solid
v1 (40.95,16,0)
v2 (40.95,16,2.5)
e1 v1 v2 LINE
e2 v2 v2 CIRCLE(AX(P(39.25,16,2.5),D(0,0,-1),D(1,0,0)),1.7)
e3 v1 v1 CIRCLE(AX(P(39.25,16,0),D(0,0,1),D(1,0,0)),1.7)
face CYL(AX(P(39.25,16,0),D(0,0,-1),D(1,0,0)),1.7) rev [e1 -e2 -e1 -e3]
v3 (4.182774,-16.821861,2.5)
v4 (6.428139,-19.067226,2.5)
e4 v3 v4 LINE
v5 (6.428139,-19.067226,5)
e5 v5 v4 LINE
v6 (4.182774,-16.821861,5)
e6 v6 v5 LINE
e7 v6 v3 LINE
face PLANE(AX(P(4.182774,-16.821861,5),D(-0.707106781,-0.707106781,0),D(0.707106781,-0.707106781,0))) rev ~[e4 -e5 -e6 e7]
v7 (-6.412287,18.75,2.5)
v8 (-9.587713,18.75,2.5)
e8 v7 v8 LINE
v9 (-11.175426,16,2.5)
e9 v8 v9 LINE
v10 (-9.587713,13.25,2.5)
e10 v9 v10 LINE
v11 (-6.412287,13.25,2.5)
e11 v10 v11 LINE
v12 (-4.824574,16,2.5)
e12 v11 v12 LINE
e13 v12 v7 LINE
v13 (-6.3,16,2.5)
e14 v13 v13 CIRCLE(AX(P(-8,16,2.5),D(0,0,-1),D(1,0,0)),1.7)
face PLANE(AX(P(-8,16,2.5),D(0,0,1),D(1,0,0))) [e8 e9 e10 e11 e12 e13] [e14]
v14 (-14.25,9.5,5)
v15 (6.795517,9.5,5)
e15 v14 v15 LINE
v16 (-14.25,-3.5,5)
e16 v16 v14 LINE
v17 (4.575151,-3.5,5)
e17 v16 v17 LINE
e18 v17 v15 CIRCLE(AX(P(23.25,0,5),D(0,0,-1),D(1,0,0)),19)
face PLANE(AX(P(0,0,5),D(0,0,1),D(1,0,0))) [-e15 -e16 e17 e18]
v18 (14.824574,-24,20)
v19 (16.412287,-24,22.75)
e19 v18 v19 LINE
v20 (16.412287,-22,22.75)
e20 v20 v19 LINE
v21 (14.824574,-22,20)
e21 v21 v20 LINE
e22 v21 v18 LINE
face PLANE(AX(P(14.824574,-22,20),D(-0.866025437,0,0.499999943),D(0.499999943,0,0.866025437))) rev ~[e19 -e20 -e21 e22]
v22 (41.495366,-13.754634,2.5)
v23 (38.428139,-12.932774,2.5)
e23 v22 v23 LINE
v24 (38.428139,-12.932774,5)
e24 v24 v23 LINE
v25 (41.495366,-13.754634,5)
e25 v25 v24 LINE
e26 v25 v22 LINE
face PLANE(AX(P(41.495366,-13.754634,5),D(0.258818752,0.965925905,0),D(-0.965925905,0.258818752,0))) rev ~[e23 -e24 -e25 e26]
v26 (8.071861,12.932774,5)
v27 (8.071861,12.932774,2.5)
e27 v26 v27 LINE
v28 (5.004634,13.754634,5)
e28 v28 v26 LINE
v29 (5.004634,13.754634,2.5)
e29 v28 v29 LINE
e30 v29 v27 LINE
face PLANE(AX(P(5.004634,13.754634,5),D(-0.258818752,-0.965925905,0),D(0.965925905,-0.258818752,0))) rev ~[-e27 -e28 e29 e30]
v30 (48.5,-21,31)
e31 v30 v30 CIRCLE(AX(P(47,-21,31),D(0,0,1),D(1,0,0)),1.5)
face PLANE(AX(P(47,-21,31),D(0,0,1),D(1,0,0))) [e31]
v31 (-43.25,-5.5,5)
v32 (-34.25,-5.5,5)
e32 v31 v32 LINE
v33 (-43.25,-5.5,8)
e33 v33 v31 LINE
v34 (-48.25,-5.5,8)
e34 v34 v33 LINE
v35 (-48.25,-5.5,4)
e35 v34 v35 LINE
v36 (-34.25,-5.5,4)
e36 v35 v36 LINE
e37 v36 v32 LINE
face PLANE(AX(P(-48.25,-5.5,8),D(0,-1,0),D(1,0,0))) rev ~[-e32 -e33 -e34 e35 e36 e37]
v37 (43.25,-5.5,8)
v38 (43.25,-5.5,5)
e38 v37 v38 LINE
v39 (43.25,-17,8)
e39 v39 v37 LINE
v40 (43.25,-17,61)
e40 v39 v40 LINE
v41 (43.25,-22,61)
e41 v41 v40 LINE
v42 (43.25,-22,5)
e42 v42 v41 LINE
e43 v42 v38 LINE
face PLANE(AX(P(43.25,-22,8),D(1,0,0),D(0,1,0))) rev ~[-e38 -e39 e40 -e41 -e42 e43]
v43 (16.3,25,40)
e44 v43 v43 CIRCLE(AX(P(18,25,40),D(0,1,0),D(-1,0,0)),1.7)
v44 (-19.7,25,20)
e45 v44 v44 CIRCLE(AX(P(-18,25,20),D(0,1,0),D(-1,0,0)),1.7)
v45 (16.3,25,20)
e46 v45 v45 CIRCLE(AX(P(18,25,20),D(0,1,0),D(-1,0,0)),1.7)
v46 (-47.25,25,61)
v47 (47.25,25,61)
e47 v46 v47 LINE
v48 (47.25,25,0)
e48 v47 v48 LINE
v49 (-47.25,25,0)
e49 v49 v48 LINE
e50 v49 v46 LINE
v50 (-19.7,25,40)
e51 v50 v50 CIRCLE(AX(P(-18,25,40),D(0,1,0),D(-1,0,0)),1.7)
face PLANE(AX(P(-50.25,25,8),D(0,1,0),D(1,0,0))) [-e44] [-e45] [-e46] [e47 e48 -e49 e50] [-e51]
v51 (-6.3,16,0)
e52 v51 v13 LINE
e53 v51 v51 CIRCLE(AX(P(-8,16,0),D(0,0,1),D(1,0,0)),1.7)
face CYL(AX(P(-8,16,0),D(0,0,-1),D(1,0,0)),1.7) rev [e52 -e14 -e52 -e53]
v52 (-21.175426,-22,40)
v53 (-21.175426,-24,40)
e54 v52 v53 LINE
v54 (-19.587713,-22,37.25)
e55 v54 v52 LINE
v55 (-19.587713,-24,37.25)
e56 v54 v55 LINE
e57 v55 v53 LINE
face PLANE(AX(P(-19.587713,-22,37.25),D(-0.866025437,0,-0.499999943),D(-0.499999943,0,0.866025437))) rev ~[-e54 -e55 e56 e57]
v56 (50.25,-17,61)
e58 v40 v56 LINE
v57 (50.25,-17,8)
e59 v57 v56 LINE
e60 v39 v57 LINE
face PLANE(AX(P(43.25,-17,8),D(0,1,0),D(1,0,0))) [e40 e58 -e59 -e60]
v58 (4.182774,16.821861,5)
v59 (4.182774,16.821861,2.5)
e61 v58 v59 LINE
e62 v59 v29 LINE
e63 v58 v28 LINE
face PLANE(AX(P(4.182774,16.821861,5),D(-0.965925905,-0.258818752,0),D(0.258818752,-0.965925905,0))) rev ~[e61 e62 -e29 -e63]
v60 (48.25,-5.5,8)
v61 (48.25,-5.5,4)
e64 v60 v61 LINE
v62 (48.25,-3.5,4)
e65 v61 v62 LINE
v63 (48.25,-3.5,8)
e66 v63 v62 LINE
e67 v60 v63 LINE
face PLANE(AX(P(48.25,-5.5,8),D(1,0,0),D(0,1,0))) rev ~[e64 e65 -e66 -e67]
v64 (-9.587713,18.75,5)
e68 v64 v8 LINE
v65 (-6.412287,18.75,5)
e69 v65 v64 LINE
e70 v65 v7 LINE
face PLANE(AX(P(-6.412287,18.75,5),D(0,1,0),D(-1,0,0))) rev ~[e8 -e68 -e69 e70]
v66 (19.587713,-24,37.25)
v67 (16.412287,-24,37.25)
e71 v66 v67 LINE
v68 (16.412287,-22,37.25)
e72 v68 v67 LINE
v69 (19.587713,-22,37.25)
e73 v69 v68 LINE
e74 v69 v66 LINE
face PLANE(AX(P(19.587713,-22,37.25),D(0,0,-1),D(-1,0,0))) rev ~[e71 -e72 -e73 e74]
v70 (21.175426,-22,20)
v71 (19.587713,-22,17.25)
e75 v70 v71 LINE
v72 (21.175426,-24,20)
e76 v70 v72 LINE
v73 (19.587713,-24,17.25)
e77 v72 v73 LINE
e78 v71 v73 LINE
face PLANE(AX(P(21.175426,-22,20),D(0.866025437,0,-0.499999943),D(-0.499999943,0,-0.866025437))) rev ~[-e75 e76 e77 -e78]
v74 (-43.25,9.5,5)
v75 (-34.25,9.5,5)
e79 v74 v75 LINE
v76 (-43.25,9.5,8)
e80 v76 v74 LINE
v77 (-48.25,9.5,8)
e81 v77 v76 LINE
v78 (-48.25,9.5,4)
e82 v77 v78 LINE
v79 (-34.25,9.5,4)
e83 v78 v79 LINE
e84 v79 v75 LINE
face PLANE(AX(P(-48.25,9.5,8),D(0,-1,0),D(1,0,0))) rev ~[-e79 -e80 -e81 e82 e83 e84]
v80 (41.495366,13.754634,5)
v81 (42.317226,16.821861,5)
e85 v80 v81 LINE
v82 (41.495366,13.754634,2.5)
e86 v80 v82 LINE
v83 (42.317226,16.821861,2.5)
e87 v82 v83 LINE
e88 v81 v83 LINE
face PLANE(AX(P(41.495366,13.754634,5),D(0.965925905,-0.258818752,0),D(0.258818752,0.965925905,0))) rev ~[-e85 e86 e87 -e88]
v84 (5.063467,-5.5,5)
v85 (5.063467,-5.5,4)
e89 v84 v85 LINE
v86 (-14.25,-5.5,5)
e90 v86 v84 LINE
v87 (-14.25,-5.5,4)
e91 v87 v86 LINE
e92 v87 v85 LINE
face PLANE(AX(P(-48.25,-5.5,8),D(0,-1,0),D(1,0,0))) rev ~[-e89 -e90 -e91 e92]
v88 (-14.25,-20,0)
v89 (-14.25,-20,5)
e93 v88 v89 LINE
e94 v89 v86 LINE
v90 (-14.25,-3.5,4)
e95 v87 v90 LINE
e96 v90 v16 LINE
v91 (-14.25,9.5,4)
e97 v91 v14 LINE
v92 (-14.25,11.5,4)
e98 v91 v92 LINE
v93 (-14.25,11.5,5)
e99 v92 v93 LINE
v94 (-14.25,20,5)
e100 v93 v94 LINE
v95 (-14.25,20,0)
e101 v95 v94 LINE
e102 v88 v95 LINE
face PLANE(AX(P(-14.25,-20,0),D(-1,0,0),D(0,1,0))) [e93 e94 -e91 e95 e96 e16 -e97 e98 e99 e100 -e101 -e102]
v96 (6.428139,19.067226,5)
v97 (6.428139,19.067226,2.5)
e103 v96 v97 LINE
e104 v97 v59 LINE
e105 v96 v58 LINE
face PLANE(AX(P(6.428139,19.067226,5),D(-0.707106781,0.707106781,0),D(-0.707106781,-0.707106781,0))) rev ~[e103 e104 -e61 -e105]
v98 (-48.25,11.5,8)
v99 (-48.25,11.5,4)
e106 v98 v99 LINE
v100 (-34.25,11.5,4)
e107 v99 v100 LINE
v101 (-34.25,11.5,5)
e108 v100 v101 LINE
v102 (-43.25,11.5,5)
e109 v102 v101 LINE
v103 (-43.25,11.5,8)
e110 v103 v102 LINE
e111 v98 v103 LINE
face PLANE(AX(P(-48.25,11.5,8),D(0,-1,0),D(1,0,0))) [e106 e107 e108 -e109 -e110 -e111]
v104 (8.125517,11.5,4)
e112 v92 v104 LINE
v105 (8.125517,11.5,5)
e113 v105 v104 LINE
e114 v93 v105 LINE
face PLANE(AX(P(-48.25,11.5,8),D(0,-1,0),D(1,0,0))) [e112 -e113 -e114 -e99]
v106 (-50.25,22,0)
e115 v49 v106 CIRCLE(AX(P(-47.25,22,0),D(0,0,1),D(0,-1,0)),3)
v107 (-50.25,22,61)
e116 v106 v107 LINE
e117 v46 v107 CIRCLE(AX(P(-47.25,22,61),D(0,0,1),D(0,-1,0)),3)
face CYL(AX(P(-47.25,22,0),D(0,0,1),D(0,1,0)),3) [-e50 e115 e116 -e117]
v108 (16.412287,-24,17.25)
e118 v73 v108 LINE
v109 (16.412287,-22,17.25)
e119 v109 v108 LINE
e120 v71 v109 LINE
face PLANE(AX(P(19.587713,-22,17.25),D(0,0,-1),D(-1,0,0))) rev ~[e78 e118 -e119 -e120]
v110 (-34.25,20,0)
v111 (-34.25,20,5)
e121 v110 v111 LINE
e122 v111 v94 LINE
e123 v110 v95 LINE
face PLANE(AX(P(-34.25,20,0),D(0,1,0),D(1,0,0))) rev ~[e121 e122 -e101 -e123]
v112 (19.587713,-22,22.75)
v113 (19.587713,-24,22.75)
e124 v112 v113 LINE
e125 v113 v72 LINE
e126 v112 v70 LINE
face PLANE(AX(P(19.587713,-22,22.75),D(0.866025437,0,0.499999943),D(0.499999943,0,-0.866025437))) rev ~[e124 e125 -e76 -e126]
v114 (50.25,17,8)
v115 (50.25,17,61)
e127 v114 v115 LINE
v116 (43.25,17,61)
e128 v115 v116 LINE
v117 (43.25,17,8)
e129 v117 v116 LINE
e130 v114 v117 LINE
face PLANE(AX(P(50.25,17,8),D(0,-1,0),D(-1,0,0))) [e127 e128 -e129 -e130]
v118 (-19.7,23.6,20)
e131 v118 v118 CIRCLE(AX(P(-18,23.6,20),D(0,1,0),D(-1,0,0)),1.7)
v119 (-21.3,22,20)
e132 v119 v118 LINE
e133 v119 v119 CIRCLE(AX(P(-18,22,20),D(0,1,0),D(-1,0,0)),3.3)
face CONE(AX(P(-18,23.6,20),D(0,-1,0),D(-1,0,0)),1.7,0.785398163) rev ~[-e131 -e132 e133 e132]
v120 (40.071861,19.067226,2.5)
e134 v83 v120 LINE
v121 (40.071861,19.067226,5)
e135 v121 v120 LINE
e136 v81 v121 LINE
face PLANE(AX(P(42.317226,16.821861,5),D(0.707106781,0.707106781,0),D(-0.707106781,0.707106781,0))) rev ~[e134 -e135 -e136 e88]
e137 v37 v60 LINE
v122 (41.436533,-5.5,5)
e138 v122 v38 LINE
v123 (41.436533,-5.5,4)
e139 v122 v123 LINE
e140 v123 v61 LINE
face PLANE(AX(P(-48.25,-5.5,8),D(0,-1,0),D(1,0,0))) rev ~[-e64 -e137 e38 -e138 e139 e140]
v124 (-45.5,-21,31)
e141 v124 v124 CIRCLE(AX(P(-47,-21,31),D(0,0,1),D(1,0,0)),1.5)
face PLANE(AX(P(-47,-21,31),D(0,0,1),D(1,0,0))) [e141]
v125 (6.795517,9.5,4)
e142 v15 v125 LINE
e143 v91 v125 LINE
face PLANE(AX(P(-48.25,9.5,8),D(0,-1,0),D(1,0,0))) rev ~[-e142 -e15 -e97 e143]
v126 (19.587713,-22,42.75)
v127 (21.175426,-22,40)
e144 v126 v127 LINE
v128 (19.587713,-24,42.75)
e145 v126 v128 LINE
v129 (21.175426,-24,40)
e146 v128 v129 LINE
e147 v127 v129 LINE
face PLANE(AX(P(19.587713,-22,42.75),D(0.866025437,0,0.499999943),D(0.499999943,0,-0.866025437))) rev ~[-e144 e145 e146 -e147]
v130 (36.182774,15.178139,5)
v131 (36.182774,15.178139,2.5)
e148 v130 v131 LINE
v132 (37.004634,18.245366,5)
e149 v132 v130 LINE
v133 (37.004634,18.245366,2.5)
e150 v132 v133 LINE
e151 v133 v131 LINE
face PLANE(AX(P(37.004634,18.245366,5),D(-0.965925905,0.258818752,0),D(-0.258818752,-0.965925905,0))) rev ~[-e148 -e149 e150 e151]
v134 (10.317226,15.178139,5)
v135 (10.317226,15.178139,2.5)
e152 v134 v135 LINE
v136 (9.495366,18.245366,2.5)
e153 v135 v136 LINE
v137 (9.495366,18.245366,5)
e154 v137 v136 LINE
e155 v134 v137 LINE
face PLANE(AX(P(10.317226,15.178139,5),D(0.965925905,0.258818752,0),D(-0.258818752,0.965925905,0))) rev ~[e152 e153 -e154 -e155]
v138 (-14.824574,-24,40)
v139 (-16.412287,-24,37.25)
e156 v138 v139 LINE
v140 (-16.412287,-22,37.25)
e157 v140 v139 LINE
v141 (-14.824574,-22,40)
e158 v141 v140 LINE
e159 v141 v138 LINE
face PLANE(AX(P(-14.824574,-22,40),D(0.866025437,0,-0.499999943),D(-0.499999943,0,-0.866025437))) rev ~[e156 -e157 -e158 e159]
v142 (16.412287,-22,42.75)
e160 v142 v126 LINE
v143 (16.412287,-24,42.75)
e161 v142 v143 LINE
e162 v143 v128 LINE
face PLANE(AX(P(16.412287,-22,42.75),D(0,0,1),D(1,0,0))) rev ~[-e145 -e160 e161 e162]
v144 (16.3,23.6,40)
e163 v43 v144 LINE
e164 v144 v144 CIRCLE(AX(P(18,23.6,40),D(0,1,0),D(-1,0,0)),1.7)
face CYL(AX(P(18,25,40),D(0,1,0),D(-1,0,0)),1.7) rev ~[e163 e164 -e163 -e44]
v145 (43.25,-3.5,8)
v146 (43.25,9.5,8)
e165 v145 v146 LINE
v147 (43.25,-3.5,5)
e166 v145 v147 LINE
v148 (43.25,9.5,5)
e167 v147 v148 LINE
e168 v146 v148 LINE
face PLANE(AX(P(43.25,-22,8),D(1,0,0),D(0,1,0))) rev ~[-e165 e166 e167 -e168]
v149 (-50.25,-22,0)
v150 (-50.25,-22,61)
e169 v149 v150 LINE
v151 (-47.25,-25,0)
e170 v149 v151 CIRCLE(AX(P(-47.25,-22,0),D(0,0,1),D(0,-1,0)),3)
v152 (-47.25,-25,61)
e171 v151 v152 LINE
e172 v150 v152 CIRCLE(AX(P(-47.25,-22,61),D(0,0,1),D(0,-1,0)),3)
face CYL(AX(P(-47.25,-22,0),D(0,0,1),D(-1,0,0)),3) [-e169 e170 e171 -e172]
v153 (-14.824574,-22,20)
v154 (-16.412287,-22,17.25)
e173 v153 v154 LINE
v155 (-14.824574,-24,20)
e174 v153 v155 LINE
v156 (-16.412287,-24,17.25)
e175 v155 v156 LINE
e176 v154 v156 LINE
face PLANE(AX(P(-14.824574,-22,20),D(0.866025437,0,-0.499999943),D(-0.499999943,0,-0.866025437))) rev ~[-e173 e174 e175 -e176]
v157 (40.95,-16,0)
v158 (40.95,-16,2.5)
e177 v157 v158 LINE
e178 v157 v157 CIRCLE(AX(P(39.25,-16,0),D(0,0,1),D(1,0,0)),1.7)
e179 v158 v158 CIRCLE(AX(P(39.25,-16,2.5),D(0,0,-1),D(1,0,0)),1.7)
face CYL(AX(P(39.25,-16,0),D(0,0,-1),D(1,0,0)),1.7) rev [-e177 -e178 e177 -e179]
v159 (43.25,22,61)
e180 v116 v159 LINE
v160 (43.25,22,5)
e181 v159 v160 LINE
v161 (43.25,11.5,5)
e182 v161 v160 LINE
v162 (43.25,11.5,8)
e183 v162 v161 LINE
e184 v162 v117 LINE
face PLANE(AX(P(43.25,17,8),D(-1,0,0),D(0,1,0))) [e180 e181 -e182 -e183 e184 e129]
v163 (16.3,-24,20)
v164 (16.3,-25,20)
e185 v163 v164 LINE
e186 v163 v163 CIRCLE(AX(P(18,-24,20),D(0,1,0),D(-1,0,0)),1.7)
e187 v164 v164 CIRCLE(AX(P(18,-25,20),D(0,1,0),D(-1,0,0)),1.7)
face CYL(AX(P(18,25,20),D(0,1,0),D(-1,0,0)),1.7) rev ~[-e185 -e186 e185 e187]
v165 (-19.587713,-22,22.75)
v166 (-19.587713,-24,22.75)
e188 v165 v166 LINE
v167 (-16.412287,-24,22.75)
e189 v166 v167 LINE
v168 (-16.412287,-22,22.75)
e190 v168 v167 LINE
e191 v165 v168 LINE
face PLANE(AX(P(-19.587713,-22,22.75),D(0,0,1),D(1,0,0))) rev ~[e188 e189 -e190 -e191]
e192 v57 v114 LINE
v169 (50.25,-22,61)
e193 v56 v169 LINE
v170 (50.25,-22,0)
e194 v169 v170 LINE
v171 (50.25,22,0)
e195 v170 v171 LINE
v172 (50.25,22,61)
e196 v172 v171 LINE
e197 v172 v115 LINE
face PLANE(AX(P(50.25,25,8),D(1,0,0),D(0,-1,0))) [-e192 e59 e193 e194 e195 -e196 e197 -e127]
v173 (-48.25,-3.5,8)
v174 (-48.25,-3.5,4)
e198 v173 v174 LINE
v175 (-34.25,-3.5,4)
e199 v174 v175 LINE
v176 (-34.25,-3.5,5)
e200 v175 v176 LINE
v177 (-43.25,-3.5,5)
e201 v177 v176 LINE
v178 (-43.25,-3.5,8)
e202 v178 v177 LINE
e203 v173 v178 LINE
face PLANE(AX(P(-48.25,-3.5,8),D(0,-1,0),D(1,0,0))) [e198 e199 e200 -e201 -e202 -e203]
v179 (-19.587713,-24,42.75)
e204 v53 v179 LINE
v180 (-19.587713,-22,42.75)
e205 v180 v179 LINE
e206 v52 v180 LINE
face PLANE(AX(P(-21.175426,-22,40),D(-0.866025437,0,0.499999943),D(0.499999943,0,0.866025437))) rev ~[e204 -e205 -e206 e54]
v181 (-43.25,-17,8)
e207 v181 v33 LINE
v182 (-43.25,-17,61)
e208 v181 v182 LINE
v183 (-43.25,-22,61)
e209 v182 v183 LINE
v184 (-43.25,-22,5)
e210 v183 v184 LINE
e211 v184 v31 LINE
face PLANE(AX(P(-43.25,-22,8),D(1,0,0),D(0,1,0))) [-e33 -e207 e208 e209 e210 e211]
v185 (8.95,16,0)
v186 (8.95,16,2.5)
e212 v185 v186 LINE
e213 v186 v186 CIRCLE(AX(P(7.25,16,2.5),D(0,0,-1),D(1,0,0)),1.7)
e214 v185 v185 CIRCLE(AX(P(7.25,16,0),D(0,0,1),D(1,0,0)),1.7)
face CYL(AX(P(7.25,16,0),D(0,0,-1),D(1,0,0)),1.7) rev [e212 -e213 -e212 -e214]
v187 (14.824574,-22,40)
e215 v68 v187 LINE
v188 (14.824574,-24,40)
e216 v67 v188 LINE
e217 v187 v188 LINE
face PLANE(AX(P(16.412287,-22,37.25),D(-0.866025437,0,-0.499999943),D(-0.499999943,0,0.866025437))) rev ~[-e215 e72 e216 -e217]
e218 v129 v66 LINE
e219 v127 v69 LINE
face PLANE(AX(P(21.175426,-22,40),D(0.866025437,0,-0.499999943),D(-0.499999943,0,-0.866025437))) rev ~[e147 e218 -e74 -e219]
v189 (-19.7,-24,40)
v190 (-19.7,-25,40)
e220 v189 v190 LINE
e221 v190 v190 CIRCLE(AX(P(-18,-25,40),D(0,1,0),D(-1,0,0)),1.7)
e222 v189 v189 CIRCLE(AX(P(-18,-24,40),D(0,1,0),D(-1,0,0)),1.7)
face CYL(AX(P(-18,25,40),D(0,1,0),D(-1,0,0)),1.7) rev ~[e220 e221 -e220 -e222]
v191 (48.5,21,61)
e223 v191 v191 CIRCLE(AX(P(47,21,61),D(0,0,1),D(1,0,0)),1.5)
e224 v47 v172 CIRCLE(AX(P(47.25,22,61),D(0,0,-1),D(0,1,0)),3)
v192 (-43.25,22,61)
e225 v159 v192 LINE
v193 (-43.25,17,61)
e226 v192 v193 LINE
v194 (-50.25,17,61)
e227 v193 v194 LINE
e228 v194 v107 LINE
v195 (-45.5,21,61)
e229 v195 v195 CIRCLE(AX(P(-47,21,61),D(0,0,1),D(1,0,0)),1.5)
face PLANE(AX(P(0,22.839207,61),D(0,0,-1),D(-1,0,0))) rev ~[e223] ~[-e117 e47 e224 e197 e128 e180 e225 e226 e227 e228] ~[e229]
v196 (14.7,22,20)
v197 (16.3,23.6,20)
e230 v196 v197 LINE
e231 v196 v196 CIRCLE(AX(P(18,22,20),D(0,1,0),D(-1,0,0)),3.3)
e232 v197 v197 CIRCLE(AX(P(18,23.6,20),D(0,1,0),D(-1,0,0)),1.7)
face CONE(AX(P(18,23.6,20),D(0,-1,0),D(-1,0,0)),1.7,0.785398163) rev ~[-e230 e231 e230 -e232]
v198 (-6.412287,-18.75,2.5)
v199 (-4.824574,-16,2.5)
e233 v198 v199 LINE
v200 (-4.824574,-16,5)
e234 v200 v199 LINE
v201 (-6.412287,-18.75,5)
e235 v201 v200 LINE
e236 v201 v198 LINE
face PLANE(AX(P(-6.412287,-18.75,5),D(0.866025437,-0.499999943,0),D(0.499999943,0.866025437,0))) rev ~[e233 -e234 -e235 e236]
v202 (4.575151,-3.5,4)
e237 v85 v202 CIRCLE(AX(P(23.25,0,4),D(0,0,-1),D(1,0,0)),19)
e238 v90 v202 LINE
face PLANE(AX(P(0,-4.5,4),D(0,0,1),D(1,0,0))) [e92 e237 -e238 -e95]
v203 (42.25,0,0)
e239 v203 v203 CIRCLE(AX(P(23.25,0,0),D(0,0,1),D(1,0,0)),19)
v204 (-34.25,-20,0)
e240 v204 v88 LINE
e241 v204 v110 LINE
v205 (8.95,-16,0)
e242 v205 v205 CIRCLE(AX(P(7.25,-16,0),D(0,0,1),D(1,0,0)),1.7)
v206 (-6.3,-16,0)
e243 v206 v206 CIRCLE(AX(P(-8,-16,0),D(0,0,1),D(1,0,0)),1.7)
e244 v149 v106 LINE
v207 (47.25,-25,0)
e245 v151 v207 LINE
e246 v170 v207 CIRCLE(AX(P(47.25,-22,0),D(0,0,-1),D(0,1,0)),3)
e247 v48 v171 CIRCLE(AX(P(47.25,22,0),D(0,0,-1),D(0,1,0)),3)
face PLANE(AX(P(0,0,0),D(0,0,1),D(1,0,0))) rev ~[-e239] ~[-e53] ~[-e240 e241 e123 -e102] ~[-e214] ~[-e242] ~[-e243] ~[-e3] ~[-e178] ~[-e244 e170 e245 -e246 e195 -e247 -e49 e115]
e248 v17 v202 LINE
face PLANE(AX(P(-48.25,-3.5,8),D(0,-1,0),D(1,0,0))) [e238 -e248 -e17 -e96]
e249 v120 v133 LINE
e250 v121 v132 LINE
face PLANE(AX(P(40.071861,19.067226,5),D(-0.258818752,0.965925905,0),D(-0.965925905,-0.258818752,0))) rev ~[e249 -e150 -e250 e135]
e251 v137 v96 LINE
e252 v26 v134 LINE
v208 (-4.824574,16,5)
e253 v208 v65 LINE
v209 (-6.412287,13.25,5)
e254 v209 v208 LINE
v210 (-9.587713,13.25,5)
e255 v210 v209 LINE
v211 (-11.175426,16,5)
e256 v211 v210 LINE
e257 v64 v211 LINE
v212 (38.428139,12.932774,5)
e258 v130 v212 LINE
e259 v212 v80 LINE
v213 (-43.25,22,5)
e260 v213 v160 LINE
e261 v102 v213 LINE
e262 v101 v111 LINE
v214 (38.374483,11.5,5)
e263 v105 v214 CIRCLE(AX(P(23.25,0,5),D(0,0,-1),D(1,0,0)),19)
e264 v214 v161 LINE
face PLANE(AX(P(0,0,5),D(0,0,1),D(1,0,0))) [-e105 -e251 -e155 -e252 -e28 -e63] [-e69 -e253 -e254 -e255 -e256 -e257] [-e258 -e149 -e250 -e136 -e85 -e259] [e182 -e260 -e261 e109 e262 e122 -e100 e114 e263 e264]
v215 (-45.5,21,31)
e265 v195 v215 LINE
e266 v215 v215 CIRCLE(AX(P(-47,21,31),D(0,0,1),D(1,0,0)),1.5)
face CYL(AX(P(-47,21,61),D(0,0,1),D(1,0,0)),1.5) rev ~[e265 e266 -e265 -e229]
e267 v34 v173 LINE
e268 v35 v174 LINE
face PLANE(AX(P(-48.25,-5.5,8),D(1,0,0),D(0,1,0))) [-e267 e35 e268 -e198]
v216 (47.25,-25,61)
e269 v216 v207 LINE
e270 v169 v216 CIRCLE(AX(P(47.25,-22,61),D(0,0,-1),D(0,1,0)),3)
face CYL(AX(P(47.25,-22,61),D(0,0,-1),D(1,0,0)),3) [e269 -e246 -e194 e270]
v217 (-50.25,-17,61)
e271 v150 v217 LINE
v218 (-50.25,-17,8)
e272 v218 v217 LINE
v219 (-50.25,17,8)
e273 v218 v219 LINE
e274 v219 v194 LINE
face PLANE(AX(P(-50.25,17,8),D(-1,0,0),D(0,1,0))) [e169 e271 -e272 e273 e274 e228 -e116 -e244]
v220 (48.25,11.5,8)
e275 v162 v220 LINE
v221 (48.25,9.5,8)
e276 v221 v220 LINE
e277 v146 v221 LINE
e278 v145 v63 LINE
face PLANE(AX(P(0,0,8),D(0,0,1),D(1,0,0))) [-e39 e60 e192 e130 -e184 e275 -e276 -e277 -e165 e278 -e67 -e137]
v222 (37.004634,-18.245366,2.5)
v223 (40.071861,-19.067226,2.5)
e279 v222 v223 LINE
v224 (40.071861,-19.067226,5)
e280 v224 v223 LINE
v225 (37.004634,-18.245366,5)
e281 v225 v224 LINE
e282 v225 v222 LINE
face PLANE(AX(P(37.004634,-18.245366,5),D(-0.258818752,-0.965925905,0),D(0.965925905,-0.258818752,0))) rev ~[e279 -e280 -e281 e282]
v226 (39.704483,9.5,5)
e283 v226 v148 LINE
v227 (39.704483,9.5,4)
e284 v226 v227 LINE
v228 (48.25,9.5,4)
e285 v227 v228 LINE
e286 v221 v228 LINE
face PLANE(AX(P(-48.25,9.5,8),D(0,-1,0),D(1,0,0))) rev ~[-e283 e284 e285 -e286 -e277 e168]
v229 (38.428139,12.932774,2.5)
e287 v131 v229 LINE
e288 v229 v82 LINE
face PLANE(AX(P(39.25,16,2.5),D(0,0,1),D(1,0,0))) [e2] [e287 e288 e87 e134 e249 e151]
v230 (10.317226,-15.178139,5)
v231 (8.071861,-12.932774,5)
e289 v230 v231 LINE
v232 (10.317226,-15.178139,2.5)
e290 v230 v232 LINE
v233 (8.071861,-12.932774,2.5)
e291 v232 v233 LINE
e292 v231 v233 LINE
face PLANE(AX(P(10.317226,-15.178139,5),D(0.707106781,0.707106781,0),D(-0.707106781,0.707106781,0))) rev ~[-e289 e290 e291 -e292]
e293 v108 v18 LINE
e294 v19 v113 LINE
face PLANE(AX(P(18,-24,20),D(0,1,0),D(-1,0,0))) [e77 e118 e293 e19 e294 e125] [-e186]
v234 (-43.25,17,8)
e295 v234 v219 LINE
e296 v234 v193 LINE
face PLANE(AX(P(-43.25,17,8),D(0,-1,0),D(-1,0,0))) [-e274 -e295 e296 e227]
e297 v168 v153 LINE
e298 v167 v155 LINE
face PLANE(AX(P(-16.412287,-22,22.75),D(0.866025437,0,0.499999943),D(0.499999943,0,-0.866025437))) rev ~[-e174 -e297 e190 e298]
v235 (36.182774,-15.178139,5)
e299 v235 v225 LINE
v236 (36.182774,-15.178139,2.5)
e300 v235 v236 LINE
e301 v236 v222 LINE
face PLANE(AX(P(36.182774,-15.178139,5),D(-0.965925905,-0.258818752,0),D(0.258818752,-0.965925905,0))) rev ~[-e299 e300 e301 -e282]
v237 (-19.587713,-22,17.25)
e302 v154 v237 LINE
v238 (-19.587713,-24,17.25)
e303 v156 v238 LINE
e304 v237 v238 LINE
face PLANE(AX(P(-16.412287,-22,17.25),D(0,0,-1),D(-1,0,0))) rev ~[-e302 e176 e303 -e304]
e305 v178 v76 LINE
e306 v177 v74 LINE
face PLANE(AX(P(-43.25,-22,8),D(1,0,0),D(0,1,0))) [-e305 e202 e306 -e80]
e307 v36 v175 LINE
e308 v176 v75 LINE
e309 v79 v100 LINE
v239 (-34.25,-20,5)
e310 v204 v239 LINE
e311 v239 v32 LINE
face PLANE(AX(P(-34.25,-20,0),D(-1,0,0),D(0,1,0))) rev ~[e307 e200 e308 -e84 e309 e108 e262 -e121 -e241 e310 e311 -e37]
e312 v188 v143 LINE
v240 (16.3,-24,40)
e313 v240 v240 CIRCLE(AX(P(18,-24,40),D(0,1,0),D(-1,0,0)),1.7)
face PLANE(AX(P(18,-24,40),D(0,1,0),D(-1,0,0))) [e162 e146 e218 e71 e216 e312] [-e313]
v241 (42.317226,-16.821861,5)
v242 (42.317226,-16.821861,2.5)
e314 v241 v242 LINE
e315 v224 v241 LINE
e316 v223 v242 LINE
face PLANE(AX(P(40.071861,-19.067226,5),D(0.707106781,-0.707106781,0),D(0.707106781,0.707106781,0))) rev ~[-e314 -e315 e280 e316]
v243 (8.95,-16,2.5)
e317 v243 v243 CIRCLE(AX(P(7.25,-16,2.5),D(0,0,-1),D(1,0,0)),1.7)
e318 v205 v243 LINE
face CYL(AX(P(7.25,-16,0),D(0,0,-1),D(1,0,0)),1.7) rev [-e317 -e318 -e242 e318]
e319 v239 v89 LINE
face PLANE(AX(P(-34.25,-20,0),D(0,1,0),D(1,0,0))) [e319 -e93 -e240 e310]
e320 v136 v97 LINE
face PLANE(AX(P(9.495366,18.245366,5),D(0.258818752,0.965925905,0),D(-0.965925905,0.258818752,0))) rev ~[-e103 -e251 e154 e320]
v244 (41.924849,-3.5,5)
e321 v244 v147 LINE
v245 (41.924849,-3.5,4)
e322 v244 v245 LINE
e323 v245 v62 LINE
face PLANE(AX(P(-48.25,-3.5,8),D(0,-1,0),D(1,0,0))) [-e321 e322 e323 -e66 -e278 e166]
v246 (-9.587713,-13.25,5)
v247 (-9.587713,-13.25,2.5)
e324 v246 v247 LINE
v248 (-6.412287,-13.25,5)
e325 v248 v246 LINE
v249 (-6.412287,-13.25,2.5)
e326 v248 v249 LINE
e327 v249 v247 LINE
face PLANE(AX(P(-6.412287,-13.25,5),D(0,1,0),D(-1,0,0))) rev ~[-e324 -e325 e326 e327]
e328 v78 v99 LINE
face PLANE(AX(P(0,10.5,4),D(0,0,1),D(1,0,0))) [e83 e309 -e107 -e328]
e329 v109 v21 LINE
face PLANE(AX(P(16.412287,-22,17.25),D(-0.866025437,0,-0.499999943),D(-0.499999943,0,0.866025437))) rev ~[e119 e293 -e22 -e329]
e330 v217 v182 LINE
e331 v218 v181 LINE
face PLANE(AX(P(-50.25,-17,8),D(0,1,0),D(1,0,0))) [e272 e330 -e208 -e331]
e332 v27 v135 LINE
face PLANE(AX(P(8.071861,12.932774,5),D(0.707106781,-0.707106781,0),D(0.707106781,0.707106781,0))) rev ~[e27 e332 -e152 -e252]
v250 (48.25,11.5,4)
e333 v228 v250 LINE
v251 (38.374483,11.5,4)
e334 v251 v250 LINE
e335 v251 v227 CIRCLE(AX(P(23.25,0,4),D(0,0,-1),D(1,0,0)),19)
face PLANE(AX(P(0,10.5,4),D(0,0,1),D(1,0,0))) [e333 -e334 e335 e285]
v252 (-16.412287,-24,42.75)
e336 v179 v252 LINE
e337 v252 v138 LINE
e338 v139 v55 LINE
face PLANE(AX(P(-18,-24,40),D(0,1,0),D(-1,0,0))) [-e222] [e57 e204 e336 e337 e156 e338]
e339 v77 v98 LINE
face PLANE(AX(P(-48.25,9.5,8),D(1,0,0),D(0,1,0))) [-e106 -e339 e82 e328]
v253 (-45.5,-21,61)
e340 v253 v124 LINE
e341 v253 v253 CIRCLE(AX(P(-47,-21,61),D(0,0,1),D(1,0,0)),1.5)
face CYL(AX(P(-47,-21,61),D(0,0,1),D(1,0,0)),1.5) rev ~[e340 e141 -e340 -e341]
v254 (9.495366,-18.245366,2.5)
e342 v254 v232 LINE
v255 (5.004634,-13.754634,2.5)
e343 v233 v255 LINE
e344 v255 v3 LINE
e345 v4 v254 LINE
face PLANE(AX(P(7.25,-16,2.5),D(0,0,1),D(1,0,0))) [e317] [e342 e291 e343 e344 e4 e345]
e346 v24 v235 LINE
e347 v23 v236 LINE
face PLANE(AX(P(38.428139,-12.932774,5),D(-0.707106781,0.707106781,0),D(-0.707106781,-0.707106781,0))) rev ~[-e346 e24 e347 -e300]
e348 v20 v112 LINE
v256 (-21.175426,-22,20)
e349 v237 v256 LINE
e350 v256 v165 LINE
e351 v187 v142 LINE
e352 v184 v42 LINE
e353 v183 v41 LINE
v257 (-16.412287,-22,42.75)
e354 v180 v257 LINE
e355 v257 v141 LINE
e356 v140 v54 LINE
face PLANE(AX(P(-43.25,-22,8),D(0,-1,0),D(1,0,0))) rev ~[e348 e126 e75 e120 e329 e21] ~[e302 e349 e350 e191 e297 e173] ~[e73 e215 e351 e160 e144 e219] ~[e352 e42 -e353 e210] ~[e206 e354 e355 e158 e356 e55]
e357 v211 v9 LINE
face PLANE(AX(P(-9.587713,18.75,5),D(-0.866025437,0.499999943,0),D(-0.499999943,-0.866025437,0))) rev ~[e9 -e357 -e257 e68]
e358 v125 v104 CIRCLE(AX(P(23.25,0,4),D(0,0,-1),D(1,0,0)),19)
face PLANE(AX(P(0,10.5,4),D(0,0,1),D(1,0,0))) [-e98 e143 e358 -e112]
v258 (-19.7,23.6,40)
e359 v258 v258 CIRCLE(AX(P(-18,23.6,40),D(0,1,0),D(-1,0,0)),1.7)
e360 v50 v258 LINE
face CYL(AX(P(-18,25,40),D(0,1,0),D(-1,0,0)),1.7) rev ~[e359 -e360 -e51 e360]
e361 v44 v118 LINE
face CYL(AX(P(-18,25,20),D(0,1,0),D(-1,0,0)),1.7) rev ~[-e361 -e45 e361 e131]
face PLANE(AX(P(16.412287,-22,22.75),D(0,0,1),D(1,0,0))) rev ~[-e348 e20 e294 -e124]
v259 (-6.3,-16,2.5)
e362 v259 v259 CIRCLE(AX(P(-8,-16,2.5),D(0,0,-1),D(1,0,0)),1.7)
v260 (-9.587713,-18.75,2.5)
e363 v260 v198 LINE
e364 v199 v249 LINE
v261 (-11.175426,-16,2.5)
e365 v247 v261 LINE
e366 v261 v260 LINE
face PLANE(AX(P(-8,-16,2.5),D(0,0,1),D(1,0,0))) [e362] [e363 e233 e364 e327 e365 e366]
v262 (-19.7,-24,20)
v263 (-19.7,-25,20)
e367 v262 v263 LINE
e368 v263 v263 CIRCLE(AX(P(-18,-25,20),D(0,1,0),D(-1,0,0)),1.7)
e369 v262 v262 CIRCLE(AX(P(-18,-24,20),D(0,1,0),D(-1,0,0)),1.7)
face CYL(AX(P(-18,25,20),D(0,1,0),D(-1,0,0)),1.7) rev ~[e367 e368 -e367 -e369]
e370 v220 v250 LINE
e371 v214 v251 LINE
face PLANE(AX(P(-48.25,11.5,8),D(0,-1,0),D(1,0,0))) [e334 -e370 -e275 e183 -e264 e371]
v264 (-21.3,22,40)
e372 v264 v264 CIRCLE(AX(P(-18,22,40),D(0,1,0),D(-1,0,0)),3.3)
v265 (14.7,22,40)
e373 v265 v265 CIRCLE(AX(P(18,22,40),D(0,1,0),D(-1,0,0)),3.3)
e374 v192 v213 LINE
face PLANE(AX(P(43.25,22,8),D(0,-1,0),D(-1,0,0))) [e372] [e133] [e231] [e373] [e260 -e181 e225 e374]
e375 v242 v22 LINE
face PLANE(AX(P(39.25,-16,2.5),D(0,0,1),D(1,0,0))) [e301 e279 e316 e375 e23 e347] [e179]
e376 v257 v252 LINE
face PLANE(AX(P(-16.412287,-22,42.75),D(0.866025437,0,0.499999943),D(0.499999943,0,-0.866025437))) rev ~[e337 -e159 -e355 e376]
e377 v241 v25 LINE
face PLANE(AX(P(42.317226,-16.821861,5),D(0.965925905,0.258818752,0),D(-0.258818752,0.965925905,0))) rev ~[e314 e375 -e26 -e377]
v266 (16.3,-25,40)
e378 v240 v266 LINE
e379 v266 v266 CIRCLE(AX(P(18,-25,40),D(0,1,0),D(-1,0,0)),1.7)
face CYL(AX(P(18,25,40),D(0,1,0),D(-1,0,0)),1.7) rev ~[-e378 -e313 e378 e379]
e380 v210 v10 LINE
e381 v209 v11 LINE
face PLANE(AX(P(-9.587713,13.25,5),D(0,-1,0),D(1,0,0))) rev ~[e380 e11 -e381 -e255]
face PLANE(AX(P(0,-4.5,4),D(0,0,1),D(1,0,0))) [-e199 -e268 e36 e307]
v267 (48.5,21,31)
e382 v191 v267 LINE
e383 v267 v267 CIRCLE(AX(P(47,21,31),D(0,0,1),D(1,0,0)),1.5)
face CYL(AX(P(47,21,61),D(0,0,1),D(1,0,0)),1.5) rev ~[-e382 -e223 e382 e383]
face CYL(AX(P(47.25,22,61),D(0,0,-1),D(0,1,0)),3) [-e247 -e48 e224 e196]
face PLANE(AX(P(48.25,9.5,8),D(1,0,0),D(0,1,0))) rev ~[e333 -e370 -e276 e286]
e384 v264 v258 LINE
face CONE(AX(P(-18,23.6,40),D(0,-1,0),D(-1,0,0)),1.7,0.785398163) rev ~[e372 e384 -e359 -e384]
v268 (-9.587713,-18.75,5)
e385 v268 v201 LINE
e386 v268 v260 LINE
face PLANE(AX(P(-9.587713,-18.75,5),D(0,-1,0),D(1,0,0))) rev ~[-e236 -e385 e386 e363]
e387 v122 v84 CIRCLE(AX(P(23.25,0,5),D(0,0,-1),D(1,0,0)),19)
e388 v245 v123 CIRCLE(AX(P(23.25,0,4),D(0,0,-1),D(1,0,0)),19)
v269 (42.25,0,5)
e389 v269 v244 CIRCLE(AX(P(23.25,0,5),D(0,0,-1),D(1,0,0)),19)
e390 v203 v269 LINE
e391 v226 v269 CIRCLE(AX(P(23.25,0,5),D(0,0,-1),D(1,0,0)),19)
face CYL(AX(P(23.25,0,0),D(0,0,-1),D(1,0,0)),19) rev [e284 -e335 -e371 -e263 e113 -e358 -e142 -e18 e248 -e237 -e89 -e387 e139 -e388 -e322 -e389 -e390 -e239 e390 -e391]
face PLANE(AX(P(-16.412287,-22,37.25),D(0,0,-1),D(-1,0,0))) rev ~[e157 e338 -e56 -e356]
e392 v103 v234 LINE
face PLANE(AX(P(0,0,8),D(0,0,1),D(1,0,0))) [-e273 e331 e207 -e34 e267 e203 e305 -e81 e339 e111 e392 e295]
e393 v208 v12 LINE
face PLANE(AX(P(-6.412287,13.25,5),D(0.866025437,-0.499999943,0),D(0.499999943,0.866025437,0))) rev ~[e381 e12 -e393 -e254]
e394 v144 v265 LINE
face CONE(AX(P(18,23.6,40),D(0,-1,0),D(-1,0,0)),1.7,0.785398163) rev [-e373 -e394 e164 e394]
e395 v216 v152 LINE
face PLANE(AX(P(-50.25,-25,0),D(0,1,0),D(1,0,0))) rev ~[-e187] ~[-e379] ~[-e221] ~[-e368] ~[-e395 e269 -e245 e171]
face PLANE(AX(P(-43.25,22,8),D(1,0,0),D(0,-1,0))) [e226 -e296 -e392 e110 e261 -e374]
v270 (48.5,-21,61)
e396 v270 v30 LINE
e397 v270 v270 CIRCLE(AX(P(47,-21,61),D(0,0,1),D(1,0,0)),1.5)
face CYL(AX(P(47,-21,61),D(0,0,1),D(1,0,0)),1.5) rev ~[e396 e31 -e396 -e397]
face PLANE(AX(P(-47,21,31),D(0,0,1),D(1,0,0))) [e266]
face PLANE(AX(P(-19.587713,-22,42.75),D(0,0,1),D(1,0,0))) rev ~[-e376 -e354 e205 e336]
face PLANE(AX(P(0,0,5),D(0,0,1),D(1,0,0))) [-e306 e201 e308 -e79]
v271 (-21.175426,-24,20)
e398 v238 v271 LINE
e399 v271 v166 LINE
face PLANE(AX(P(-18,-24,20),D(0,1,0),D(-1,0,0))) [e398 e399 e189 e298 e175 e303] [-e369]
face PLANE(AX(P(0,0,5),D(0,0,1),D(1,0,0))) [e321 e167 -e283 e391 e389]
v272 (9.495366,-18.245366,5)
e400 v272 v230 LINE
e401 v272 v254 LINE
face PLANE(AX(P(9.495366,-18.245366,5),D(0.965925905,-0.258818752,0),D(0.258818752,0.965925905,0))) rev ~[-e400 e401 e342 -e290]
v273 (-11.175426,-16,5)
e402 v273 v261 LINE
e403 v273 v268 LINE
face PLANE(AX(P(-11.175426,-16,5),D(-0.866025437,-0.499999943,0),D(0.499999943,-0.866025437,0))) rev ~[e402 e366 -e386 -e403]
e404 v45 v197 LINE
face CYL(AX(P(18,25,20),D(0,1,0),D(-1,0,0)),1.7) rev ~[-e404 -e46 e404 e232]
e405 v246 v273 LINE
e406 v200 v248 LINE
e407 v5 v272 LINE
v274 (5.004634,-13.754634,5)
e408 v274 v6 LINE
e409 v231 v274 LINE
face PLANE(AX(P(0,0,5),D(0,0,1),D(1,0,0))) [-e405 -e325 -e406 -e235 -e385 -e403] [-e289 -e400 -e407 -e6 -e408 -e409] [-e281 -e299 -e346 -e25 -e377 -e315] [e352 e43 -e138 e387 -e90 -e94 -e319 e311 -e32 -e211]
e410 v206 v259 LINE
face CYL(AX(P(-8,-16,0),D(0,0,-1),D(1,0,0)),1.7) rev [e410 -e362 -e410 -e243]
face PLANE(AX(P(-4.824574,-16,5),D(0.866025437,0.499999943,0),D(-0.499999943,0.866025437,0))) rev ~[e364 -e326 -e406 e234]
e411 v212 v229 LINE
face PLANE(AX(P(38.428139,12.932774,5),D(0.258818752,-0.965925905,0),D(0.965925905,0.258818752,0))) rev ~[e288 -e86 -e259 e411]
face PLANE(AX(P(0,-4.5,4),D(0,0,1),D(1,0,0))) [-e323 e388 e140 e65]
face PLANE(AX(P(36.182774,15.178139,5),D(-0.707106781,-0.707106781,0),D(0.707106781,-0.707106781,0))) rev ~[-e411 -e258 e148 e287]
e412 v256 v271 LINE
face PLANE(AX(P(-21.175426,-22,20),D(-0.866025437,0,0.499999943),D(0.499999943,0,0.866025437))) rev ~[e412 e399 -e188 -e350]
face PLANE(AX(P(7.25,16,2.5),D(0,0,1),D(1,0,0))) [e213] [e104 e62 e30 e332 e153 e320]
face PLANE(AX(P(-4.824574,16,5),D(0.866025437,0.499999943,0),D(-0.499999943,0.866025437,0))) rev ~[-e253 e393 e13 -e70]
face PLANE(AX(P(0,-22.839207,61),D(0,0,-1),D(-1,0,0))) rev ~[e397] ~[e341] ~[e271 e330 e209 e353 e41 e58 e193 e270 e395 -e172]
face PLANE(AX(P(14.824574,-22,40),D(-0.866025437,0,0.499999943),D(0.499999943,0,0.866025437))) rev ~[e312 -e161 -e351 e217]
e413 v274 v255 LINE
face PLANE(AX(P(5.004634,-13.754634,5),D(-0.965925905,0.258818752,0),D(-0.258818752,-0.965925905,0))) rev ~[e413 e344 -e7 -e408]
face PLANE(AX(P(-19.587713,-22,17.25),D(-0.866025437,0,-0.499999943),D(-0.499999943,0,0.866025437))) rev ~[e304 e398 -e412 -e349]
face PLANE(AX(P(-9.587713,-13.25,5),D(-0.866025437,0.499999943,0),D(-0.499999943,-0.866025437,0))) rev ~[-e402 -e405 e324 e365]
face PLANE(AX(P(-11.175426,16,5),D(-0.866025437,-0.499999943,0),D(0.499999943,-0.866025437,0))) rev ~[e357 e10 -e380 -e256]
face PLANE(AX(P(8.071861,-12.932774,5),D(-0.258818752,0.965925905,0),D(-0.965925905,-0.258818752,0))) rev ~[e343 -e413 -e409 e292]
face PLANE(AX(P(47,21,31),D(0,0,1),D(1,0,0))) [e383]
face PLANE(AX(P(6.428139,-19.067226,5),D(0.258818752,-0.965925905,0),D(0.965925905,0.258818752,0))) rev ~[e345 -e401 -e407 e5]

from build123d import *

# Parameters (mm, degrees)
SKETCH_W        = 100.5
SKETCH_H        = 50
SKETCH_R        = 19
SKETCH_R_2      = 1.7
SKETCH_W_2      = 20
SKETCH_H_2      = 40
PAD_DEPTH       = 8
SKETCH001_W     = 86.5
SKETCH001_H     = 44
POCKET_DEPTH    = 3
SKETCH002_W     = 96.5
SKETCH002_H     = 2
POCKET001_DEPTH = 4
POCKET002_DEPTH = 2.5
PAD001_DEPTH    = 53
SKETCH005_R     = 1.5
POCKET003_DEPTH = 30
SKETCH006_R     = 1.7
POCKET004_DEPTH = 50.001
POCKET006_DEPTH = 2
FILLET_R        = 3
FILLET001_R     = 3
FILLET002_R     = 3
FILLET003_R     = 3
CHAMFER_SIZE    = 1.6
CHAMFER001_SIZE = 1.6
CHAMFER002_SIZE = 1.6
CHAMFER003_SIZE = 1.6


with BuildPart() as part:
    # Sketch → Pad (new body)
    with BuildSketch(Plane.XY):
        Rectangle(SKETCH_W, SKETCH_H)
        with Locations((23.25, 0)):
            Circle(SKETCH_R, mode=Mode.SUBTRACT)
        with Locations((7.25, 16)):
            Circle(SKETCH_R_2, mode=Mode.SUBTRACT)
        with Locations((39.25, 16)):
            Circle(SKETCH_R_2, mode=Mode.SUBTRACT)
        with Locations((39.25, -16)):
            Circle(SKETCH_R_2, mode=Mode.SUBTRACT)
        with Locations((7.25, -16)):
            Circle(SKETCH_R_2, mode=Mode.SUBTRACT)
        with Locations((-8, 16)):
            Circle(SKETCH_R_2, mode=Mode.SUBTRACT)
        with Locations((-8, -16)):
            Circle(SKETCH_R_2, mode=Mode.SUBTRACT)
        with Locations((-24.25, 0)):
            Rectangle(SKETCH_W_2, SKETCH_H_2, mode=Mode.SUBTRACT)
    extrude(amount=PAD_DEPTH)

    # Sketch001 → Pocket (cut)
    with BuildSketch(Plane.XY.offset(8)):
        Rectangle(SKETCH001_W, SKETCH001_H)
    extrude(amount=-POCKET_DEPTH, mode=Mode.SUBTRACT)

    # Sketch002 → Pocket001 (cut)
    with BuildSketch(Plane.XY.offset(8)):
        with Locations((0, 10.5)):
            Rectangle(SKETCH002_W, SKETCH002_H)
        with Locations((0, -4.5)):
            Rectangle(SKETCH002_W, SKETCH002_H)
    extrude(amount=-POCKET001_DEPTH, mode=Mode.SUBTRACT)

    # Sketch003 → Pocket002 (cut)
    with BuildSketch(Plane.XY.offset(5)):
        Polygon((6.428139, 19.067226), (4.182774, 16.821861), (5.004634, 13.754634), (8.071861, 12.932774), (10.317226, 15.178139), (9.495366, 18.245366), align=None)
        Polygon((40.071861, 19.067226), (37.004634, 18.245366), (36.182774, 15.178139), (38.428139, 12.932774), (41.495366, 13.754634), (42.317226, 16.821861), align=None)
        Polygon((5.004634, -13.754634), (4.182774, -16.821861), (6.428139, -19.067226), (9.495366, -18.245366), (10.317226, -15.178139), (8.071861, -12.932774), align=None)
        Polygon((36.182774, -15.178139), (37.004634, -18.245366), (40.071861, -19.067226), (42.317226, -16.821861), (41.495366, -13.754634), (38.428139, -12.932774), align=None)
        Polygon((-9.587713, 18.75), (-11.175426, 16), (-9.587713, 13.25), (-6.412287, 13.25), (-4.824574, 16), (-6.412287, 18.75), align=None)
        Polygon((-9.587713, -13.25), (-11.175426, -16), (-9.587713, -18.75), (-6.412287, -18.75), (-4.824574, -16), (-6.412287, -13.25), align=None)
    extrude(amount=-POCKET002_DEPTH, mode=Mode.SUBTRACT)

    # Sketch004 → Pad001 (new body)
    with BuildSketch(Plane.XY.offset(8)):
        Polygon((-50.25, 25), (50.25, 25), (50.25, 17), (43.25, 17), (43.25, 22), (-43.25, 22), (-43.25, 17), (-50.25, 17), align=None)
        Polygon((50.25, -17), (50.25, -25), (-50.25, -25), (-50.25, -17), (-43.25, -17), (-43.25, -22), (43.25, -22), (43.25, -17), align=None)
    extrude(amount=PAD001_DEPTH)

    # Sketch005 → Pocket003 (cut)
    with BuildSketch(Plane.XY.offset(61)):
        with Locations((-47, 21)):
            Circle(SKETCH005_R)
        with Locations((47, 21)):
            Circle(SKETCH005_R)
        with Locations((47, -21)):
            Circle(SKETCH005_R)
        with Locations((-47, -21)):
            Circle(SKETCH005_R)
    extrude(amount=-POCKET003_DEPTH, mode=Mode.SUBTRACT)

    # Sketch006 → Pocket004 (cut, through all)
    with BuildSketch(Plane(origin=(0, 25, 0), x_dir=(-1, 0, 0), z_dir=(0, 1, 0))):
        with Locations((-18, 20)):
            Circle(SKETCH006_R)
        with Locations((18, 20)):
            Circle(SKETCH006_R)
        with Locations((-18, 40)):
            Circle(SKETCH006_R)
        with Locations((18, 40)):
            Circle(SKETCH006_R)
    extrude(amount=-POCKET004_DEPTH, mode=Mode.SUBTRACT)

    # Sketch008 → Pocket006 (cut)
    with BuildSketch(Plane(origin=(0, -22, 0), x_dir=(-1, 0, 0), z_dir=(0, 1, 0))):
        Polygon((-14.824574, 20), (-16.412287, 22.75), (-19.587713, 22.75), (-21.175426, 20), (-19.587713, 17.25), (-16.412287, 17.25), align=None)
        Polygon((21.175426, 20), (19.587713, 22.75), (16.412287, 22.75), (14.824574, 20), (16.412287, 17.25), (19.587713, 17.25), align=None)
        Polygon((-16.412287, 37.25), (-14.824574, 40), (-16.412287, 42.75), (-19.587713, 42.75), (-21.175426, 40), (-19.587713, 37.25), align=None)
        Polygon((19.587713, 37.25), (21.175426, 40), (19.587713, 42.75), (16.412287, 42.75), (14.824574, 40), (16.412287, 37.25), align=None)
    extrude(amount=-POCKET006_DEPTH, mode=Mode.SUBTRACT)

    # Fillet
    fillet_edges = [part.edges().sort_by_distance(p)[0] for p in [
        (-50.25, 25, 34.5),
    ]]
    fillet(fillet_edges, radius=FILLET_R)

    # Fillet001
    fillet001_edges = [part.edges().sort_by_distance(p)[0] for p in [
        (-50.25, -25, 34.5),
    ]]
    fillet(fillet001_edges, radius=FILLET001_R)

    # Fillet002
    fillet002_edges = [part.edges().sort_by_distance(p)[0] for p in [
        (50.25, 25, 34.5),
    ]]
    fillet(fillet002_edges, radius=FILLET002_R)

    # Fillet003
    fillet003_edges = [part.edges().sort_by_distance(p)[0] for p in [
        (50.25, -25, 34.5),
    ]]
    fillet(fillet003_edges, radius=FILLET003_R)

    # Chamfer
    chamfer_edges = [part.edges().sort_by_distance(p)[0] for p in [
        (19.7, 22, 40),
    ]]
    chamfer(chamfer_edges, length=CHAMFER_SIZE)

    # Chamfer001
    chamfer001_edges = [part.edges().sort_by_distance(p)[0] for p in [
        (-16.3, 22, 40),
    ]]
    chamfer(chamfer001_edges, length=CHAMFER001_SIZE)

    # Chamfer002
    chamfer002_edges = [part.edges().sort_by_distance(p)[0] for p in [
        (-16.3, 22, 20),
    ]]
    chamfer(chamfer002_edges, length=CHAMFER002_SIZE)

    # Chamfer003
    chamfer003_edges = [part.edges().sort_by_distance(p)[0] for p in [
        (19.7, 22, 20),
    ]]
    chamfer(chamfer003_edges, length=CHAMFER003_SIZE)


solid = part.part
